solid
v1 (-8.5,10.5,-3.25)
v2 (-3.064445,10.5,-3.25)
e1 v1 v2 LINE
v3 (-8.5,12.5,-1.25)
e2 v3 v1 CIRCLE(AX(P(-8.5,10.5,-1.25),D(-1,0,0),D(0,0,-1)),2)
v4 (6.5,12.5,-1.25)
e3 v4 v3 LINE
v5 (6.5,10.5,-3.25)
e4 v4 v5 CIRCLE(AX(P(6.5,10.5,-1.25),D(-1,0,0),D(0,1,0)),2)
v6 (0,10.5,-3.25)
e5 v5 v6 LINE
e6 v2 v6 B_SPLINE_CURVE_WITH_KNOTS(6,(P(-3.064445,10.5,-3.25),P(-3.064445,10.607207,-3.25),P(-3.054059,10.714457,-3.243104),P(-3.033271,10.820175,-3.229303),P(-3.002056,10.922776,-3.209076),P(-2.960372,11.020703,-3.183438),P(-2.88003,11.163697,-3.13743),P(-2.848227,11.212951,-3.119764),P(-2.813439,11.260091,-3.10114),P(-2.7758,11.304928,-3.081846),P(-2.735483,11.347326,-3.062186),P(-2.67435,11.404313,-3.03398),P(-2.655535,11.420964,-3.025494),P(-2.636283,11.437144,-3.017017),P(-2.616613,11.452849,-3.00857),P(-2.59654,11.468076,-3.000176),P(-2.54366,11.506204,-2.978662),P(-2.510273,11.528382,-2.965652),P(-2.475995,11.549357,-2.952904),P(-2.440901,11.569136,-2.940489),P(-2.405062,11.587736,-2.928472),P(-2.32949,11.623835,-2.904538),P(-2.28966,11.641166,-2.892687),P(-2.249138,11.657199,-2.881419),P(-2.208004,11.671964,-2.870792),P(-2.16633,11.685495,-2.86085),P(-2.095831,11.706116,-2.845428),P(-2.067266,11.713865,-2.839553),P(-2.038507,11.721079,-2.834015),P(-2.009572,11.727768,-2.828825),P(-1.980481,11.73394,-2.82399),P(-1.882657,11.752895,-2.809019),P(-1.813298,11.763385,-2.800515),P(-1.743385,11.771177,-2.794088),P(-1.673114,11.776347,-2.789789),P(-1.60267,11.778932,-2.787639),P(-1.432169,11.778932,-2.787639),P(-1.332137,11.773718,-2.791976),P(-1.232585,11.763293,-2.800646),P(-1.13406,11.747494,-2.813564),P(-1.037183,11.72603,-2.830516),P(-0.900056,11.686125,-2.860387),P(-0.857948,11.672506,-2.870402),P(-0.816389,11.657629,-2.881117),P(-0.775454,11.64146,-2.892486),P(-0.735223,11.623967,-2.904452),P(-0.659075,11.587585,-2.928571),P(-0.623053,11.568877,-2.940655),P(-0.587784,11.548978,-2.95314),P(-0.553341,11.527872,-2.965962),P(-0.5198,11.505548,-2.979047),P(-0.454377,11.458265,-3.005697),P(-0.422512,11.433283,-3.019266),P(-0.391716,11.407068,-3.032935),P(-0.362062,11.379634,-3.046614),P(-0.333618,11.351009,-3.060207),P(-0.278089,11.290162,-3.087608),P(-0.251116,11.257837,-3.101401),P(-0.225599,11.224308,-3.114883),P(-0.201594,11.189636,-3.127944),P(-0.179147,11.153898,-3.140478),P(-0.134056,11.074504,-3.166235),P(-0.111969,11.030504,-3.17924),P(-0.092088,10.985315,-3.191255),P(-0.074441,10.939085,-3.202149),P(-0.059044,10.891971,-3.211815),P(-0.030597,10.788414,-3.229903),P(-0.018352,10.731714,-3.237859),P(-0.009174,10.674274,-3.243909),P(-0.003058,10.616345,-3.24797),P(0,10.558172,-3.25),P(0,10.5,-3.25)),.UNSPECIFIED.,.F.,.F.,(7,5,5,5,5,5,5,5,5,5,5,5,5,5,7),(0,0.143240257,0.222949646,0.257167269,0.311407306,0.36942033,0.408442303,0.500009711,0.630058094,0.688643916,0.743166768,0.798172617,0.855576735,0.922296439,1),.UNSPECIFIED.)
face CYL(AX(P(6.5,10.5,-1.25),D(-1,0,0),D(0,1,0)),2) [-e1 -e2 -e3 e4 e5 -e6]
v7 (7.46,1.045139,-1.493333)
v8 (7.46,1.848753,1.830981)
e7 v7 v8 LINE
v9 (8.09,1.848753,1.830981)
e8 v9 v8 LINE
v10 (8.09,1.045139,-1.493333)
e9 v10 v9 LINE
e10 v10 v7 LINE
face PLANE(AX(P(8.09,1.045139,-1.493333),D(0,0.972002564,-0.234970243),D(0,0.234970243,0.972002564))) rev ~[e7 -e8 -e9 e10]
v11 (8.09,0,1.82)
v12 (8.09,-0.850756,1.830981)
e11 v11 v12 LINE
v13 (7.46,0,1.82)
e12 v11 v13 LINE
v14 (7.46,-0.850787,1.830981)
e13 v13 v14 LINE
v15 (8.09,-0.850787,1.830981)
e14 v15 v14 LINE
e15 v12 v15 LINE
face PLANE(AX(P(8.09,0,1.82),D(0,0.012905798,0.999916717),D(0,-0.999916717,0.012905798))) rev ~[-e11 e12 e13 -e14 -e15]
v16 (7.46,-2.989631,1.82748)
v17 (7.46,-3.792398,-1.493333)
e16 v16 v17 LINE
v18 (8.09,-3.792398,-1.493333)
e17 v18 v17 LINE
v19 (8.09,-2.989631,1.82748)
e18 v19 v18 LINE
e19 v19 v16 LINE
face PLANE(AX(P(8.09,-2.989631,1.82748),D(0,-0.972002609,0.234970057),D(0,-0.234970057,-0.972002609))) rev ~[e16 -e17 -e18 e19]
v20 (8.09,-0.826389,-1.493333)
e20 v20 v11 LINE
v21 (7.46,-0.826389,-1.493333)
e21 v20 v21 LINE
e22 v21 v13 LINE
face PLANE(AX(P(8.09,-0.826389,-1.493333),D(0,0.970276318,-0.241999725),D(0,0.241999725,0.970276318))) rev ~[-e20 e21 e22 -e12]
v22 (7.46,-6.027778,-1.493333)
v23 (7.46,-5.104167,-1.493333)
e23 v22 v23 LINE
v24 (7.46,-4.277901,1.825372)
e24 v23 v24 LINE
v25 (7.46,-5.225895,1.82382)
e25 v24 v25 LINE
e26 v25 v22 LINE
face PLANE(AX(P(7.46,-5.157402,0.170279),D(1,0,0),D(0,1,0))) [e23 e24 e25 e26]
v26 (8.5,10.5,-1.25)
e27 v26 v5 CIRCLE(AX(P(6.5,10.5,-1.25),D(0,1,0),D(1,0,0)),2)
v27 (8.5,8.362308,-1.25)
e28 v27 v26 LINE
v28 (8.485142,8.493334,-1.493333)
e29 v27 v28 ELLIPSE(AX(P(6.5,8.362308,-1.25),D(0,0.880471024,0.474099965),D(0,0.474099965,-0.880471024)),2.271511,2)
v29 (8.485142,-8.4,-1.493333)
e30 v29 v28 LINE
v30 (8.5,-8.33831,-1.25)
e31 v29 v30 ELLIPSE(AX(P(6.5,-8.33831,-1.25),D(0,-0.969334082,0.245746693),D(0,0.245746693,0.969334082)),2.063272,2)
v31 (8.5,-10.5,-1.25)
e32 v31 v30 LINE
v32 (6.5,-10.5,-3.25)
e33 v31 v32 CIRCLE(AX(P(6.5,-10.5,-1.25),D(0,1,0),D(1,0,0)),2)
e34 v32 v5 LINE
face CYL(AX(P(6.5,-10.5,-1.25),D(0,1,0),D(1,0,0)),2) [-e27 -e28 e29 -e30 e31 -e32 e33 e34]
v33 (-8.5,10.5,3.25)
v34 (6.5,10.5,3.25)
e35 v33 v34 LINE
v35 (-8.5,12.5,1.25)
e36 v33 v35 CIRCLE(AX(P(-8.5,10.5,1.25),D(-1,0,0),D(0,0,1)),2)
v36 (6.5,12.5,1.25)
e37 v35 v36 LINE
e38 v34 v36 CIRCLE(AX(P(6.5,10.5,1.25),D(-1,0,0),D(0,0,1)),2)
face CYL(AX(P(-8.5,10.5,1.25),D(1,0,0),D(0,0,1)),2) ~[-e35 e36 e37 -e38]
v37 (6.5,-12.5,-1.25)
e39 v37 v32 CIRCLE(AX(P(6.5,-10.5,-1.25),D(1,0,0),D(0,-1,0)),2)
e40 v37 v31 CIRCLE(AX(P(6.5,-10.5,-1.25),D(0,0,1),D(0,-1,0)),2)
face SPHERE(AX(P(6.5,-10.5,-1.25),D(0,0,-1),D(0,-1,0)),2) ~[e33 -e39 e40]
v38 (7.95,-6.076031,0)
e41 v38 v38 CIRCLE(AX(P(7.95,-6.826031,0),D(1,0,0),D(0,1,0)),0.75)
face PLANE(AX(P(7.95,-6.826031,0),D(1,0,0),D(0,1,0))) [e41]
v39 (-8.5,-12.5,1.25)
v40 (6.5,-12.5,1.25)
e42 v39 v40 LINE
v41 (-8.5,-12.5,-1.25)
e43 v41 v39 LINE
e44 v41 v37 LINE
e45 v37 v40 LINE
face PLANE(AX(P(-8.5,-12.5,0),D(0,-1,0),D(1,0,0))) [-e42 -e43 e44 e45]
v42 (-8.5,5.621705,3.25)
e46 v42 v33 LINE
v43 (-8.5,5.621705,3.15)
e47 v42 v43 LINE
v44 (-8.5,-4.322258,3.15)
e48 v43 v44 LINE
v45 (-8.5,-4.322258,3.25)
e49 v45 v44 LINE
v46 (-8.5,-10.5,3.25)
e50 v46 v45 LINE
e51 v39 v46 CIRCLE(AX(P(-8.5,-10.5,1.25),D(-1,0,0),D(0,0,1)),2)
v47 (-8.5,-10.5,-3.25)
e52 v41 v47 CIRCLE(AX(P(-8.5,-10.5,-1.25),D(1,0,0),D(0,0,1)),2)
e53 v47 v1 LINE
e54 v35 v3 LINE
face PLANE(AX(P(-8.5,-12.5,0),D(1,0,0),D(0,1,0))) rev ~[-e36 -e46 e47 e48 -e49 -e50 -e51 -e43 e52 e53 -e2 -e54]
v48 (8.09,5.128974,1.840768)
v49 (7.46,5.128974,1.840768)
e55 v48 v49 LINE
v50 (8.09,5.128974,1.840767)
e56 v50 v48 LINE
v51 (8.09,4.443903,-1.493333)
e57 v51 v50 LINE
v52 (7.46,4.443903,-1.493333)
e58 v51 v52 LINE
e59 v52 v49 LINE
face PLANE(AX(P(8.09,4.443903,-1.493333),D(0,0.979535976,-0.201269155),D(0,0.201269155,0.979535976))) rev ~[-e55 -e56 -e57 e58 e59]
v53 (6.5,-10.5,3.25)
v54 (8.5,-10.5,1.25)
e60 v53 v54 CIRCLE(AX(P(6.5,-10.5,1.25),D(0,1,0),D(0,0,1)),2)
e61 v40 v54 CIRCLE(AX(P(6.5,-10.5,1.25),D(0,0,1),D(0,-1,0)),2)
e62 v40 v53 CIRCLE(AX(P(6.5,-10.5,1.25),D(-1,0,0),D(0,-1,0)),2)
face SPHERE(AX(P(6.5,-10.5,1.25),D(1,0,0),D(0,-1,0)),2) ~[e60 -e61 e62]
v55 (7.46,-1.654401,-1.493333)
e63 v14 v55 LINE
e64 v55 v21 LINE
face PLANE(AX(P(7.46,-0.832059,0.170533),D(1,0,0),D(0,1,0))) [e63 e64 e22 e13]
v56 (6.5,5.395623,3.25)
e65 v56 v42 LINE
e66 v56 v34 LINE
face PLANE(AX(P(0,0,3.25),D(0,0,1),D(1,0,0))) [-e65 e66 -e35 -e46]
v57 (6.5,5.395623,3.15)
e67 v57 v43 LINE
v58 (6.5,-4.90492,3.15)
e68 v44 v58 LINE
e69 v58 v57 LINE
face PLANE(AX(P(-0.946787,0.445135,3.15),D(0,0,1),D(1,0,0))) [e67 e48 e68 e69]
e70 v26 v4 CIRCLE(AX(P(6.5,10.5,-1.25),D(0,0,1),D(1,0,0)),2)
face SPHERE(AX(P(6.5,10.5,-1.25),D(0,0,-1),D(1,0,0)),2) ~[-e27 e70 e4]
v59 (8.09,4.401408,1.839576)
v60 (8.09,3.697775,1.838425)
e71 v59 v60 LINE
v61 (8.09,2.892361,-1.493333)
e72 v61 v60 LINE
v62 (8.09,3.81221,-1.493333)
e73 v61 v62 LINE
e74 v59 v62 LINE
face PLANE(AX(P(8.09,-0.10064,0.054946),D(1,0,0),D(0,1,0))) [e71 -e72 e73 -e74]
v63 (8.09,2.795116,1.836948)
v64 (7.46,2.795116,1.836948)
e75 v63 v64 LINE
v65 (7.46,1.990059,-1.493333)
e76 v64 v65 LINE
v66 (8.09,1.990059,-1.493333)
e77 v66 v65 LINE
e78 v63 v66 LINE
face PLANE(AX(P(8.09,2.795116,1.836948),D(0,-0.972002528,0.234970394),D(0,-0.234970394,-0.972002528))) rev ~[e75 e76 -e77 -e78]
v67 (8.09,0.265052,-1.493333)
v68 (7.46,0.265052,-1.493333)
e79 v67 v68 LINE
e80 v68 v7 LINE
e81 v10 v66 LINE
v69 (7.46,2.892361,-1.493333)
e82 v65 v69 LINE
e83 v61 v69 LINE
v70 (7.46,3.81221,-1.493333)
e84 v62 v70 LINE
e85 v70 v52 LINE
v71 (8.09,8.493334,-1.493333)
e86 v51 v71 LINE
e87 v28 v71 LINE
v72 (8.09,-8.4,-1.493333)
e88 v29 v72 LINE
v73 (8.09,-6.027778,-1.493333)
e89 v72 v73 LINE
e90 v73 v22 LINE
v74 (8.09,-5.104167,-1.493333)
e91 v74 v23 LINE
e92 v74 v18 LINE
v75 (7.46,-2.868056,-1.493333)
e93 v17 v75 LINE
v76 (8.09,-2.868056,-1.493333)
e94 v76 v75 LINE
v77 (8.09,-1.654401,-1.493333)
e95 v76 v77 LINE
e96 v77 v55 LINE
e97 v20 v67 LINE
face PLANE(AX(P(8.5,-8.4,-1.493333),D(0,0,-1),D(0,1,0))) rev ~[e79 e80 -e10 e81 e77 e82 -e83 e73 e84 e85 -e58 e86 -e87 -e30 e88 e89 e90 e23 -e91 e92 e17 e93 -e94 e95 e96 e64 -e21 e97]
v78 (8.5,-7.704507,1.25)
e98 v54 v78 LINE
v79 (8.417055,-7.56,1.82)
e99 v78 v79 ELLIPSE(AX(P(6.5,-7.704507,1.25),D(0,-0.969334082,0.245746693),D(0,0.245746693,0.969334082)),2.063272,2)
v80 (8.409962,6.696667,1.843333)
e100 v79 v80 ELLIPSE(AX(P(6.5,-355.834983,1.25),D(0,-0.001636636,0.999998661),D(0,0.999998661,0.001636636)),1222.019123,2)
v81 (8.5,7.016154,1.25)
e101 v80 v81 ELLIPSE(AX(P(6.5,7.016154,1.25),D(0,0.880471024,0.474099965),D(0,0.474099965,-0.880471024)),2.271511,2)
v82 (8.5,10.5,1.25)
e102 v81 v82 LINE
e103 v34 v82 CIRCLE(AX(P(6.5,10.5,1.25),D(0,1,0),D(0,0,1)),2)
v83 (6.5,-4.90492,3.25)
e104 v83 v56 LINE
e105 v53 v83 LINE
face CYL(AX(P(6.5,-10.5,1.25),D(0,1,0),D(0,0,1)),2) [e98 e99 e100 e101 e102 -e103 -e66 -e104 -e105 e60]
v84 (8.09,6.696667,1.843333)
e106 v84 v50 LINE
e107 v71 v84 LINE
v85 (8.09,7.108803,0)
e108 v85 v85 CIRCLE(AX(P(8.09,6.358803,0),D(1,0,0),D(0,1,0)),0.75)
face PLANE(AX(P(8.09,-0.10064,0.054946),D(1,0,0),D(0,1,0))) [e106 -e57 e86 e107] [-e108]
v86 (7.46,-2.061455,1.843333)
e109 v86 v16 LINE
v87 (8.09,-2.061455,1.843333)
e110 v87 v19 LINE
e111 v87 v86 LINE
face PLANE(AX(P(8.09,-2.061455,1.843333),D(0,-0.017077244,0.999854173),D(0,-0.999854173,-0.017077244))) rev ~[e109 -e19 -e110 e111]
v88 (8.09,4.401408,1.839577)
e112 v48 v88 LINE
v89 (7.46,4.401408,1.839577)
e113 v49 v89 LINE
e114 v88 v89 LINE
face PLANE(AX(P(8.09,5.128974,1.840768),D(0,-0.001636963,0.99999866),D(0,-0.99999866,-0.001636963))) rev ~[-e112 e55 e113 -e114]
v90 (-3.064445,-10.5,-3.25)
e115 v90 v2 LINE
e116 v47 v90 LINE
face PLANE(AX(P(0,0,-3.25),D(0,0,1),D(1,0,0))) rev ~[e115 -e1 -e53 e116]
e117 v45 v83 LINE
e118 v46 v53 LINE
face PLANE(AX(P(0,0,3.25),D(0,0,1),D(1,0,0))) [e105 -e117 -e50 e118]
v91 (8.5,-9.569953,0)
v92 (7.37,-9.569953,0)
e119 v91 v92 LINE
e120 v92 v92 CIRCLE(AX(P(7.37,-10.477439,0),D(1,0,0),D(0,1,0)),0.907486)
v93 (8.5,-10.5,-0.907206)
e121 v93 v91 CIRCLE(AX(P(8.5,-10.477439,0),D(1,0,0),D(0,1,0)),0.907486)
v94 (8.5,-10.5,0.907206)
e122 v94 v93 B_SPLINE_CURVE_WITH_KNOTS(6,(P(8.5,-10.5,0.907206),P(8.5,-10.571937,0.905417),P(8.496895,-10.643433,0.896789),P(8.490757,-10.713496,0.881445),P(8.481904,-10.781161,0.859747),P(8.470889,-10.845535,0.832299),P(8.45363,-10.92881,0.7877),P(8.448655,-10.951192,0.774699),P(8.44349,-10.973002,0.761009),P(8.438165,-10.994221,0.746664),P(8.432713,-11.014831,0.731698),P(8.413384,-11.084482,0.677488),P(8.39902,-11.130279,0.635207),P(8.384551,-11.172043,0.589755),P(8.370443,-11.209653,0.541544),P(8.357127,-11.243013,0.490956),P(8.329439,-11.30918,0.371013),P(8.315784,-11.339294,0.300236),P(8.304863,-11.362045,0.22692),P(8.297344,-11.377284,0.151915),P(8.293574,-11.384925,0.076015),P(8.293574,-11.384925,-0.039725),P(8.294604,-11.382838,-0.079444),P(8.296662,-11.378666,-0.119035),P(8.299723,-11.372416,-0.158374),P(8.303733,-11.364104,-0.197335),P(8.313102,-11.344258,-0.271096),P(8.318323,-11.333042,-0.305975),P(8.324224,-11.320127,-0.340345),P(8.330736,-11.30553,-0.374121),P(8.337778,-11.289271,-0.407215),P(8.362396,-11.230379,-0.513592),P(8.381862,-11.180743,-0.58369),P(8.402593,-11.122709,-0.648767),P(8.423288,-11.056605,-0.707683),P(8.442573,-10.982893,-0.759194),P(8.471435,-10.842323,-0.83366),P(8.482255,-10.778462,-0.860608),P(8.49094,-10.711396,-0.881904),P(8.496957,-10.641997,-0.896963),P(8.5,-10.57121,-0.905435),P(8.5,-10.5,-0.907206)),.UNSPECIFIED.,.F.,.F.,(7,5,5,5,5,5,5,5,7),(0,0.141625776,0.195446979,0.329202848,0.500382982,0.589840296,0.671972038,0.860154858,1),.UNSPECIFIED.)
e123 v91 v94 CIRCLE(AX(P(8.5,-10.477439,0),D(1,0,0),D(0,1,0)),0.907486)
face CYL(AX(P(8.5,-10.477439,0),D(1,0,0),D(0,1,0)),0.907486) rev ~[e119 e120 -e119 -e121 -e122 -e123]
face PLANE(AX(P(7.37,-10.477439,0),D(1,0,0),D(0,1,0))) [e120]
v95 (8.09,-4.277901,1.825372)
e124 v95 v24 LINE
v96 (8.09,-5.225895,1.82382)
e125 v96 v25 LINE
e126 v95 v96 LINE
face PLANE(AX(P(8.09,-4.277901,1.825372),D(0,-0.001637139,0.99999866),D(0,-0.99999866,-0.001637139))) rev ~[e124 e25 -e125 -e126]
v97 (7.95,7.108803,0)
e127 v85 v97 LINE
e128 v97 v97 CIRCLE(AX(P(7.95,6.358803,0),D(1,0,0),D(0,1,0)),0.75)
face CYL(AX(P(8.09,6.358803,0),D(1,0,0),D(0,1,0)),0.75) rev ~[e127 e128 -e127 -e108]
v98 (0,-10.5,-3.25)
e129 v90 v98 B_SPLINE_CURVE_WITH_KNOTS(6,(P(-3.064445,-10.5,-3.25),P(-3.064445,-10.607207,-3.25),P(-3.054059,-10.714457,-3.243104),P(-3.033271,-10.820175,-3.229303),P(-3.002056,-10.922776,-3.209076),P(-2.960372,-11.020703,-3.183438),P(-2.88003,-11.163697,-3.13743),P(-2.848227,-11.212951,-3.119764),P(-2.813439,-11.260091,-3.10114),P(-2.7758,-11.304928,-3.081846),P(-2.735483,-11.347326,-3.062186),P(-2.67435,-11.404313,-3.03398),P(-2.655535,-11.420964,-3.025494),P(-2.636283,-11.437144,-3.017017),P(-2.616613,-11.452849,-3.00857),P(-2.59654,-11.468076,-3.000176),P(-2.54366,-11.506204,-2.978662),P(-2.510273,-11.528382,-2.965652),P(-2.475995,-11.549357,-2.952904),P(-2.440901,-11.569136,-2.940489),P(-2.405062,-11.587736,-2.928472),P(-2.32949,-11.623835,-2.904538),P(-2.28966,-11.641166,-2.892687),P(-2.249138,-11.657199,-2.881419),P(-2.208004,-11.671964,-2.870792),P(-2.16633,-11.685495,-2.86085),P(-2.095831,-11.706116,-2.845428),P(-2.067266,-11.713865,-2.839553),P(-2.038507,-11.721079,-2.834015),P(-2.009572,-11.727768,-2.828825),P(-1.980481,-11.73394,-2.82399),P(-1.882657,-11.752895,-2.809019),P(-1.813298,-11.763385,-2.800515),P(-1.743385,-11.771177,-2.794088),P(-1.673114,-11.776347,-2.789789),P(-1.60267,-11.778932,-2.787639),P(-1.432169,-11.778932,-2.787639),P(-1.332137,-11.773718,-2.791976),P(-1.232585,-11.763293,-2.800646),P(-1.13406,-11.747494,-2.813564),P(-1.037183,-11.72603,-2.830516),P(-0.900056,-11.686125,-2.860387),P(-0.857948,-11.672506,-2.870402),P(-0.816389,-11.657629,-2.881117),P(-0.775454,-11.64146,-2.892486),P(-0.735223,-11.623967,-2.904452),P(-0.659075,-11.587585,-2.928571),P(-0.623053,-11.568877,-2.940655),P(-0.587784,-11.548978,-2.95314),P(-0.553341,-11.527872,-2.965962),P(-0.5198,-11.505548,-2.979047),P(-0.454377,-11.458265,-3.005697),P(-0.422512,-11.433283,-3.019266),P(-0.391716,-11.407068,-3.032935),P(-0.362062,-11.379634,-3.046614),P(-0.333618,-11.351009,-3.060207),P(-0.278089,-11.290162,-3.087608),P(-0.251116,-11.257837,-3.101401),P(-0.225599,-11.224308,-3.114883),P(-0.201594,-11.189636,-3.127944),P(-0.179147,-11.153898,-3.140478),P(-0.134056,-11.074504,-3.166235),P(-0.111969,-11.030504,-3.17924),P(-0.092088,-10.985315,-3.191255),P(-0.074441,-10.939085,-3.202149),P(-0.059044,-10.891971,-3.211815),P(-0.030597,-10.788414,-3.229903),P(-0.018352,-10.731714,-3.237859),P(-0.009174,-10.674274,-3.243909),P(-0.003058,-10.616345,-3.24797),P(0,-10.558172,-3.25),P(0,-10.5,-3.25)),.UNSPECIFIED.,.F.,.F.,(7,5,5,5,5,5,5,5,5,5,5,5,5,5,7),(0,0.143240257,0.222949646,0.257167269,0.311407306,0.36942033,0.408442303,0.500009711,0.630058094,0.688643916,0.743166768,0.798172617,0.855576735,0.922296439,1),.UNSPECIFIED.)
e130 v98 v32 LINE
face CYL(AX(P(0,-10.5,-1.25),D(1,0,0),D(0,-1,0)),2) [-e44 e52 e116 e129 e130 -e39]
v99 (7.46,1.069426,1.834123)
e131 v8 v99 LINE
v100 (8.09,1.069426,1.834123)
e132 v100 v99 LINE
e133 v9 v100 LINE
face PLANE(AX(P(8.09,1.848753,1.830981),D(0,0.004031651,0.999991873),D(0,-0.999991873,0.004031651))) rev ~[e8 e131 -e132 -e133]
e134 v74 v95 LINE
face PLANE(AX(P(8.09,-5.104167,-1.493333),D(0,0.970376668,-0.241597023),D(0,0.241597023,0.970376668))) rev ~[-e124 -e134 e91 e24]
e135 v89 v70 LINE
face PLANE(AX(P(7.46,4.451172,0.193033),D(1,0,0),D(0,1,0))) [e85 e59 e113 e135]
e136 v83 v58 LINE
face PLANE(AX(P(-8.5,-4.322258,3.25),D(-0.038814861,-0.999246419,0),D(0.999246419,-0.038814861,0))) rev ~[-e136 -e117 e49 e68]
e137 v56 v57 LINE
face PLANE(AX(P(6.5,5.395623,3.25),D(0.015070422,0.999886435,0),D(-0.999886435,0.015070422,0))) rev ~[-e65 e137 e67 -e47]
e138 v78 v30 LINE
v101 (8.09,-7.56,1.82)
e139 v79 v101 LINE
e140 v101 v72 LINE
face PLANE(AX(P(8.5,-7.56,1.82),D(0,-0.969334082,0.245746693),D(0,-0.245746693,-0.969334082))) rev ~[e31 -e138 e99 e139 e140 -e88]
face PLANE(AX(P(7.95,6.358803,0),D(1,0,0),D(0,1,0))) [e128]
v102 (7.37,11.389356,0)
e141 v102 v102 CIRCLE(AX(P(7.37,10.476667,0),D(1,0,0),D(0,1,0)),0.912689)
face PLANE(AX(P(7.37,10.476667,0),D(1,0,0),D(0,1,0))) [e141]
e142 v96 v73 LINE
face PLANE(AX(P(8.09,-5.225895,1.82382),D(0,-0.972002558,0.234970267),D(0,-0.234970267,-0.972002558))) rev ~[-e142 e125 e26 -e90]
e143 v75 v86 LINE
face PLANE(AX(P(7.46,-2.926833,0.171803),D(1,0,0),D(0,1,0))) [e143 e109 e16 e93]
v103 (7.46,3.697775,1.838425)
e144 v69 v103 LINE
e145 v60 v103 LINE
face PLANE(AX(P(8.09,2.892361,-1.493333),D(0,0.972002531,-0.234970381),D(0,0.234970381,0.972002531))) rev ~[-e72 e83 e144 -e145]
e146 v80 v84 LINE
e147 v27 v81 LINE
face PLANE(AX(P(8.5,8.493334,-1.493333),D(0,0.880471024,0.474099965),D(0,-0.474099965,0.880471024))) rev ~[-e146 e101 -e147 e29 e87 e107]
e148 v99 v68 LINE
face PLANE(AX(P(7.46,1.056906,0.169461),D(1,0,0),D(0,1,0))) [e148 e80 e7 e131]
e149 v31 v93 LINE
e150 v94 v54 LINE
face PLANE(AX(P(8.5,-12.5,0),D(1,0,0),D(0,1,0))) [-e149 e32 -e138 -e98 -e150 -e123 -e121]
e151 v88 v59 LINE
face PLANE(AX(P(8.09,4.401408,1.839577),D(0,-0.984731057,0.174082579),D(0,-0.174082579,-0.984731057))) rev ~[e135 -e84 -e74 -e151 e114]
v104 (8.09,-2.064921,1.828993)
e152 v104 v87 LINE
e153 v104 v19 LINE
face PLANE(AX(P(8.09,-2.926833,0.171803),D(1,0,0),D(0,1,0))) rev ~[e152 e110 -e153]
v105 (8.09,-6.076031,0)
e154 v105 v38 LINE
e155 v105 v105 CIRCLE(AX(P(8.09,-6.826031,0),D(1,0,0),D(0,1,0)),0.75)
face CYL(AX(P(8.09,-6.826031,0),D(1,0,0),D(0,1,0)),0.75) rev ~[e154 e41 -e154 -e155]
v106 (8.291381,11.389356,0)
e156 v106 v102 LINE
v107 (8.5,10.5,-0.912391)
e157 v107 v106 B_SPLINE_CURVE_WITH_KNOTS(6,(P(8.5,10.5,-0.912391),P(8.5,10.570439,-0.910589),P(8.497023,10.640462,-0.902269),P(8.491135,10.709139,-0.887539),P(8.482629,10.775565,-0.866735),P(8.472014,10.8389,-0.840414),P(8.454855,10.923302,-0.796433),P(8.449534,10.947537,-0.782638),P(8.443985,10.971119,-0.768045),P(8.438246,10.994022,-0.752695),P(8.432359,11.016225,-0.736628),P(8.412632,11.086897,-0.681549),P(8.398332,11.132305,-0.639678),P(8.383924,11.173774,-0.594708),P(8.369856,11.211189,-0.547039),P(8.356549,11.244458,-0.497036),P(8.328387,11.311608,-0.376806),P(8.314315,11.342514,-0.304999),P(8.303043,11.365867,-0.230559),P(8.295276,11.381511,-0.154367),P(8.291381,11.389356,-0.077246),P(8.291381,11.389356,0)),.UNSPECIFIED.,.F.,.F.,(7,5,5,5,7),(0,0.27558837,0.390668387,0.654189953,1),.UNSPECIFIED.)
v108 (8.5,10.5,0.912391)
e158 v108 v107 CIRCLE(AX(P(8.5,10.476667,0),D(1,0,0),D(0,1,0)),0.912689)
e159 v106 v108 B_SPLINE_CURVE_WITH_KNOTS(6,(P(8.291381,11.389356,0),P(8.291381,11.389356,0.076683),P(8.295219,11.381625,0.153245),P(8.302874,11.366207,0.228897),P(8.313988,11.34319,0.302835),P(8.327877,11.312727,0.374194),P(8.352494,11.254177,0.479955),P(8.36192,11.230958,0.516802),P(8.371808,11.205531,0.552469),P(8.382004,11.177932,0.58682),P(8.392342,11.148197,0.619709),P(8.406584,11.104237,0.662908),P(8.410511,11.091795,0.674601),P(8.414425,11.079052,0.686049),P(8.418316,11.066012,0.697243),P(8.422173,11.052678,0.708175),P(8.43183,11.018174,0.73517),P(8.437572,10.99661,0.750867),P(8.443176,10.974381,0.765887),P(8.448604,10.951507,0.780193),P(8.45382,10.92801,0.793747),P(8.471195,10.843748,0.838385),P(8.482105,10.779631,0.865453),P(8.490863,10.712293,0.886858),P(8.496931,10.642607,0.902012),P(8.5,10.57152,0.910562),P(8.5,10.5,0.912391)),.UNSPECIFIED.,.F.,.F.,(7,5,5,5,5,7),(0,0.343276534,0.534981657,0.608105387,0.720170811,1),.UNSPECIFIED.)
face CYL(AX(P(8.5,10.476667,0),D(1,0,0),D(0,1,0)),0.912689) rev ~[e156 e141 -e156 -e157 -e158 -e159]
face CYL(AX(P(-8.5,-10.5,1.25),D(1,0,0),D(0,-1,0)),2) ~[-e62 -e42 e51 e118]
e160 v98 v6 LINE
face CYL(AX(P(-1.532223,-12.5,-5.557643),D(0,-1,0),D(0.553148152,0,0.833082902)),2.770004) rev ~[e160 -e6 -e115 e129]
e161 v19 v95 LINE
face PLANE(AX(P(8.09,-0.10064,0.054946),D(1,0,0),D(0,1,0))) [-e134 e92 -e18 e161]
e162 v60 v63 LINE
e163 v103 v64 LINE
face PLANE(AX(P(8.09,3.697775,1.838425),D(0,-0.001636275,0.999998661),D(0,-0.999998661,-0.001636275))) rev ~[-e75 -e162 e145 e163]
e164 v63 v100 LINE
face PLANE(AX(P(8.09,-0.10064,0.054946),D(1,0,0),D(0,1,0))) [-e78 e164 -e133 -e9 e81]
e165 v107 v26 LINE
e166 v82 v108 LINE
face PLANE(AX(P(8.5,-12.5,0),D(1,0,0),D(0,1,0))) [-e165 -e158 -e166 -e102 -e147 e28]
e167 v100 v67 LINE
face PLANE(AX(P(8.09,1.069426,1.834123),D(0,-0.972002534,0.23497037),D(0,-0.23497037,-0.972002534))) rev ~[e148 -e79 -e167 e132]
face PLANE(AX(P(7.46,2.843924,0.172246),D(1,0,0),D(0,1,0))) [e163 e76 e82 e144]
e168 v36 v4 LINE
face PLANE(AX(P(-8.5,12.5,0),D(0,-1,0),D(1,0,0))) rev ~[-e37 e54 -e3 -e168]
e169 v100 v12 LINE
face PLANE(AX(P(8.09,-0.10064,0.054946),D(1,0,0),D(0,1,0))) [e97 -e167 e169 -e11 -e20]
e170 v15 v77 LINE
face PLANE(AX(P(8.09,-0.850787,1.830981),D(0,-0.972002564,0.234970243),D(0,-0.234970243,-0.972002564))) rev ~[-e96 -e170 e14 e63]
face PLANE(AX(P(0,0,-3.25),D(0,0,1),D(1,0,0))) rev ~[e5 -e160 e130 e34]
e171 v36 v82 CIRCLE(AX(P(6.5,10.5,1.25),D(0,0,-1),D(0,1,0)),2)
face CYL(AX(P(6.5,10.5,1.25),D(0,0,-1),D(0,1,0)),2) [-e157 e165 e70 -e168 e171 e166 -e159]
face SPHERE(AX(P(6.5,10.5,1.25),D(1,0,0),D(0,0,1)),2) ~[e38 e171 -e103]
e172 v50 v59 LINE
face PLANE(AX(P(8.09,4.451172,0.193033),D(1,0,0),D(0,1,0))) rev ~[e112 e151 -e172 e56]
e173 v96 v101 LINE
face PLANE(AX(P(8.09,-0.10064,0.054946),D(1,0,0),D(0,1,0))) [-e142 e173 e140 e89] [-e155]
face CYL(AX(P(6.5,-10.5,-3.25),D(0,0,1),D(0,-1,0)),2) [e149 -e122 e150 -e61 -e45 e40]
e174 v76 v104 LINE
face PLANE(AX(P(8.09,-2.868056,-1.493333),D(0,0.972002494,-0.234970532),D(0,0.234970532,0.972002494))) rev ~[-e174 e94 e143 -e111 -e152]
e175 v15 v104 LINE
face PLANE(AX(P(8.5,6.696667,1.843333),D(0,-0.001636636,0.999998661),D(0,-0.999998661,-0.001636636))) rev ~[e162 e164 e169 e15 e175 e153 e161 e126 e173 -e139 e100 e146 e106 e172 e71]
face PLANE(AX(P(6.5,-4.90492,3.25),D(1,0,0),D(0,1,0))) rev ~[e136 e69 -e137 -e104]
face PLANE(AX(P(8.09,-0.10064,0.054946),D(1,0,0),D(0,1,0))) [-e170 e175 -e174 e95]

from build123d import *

# Parameters (mm, degrees)
F0_W      = 17
F0_H      = 25
F1_DEPTH  = 3.25
F3_DEPTH  = 29
F4_R      = 2
F5_R      = 2
F6_R      = 2
F7_R      = 2
F8_R      = 0.907486
F8_R_2    = 0.912689
F9_DEPTH  = 1.13
F11_DEPTH = 0.41
F12_R     = 0.75
F13_DEPTH = 0.14
F15_DEPTH = 0.63
F17_DEPTH = 0.1


with BuildPart() as f1:
    # F0 (on Top) → F1 (new body, symmetric)
    with BuildSketch(Plane.XY):
        Rectangle(F0_W, F0_H)
    extrude(amount=F1_DEPTH, both=True)

    # F2 (on face) → F3 (cut)
    with BuildSketch(Plane.XZ.offset(12.5)):
        with BuildLine():
            Line((-3.064445, -3.25), (0, -3.25))
            ThreePointArc((0, -3.25), (-1.532222, -2.787639), (-3.064445, -3.25))
        make_face()
    extrude(amount=-F3_DEPTH, mode=Mode.SUBTRACT)

    # F4
    f4_edges = [f1.edges().sort_by_distance(p)[0] for p in [
        (0, -12.5, 3.25),
    ]]
    fillet(f4_edges, radius=F4_R)

    # F5
    f5_edges = [f1.edges().sort_by_distance(p)[0] for p in [
        (0, 12.5, 3.25),
    ]]
    fillet(f5_edges, radius=F5_R)

    # F6
    f6_edges = [f1.edges().sort_by_distance(p)[0] for p in [
        (8.5, 0, 3.25),
    ]]
    fillet(f6_edges, radius=F6_R)

    # F7
    f7_edges = [f1.edges().sort_by_distance(p)[0] for p in [
        (8.5, 0, -3.25),
    ]]
    fillet(f7_edges, radius=F7_R)

    # F8 (on face) → F9 (cut)
    with BuildSketch(Plane.YZ.offset(8.5)):
        with Locations((-10.477439, 0)):
            Circle(F8_R)
        with Locations((10.476667, 0)):
            Circle(F8_R_2)
    extrude(amount=-F9_DEPTH, mode=Mode.SUBTRACT)

    # F10 (on face) → F11 (cut)
    with BuildSketch(Plane.YZ.offset(8.5)):
        Polygon((6.696667, 1.843333), (-7.56, 1.82), (-8.4, -1.493333), (8.493334, -1.493333), align=None)
    extrude(amount=-F11_DEPTH, mode=Mode.SUBTRACT)

    # F12 (on face) → F13 (cut)
    with BuildSketch(Plane.YZ.offset(8.09)):
        with Locations((-6.826031, 0)):
            Circle(F12_R)
        with Locations((6.358803, 0)):
            Circle(F12_R)
    extrude(amount=-F13_DEPTH, mode=Mode.SUBTRACT)

    # F14 (on face) → F15 (cut)
    with BuildSketch(Plane.YZ.offset(8.09)):
        Polygon((-4.277901, 1.825372), (-5.225895, 1.82382), (-6.027778, -1.493333), (-5.104167, -1.493333), align=None)
        Polygon((-2.061455, 1.843333), (-2.989631, 1.82748), (-3.792398, -1.493333), (-2.868056, -1.493333), align=None)
        Polygon((0, 1.82), (-0.850787, 1.830981), (-1.654401, -1.493333), (-0.826389, -1.493333), align=None)
        Polygon((1.848753, 1.830981), (1.069426, 1.834123), (0.265052, -1.493333), (1.045139, -1.493333), align=None)
        Polygon((3.697775, 1.838425), (2.795116, 1.836948), (1.990059, -1.493333), (2.892361, -1.493333), align=None)
        Polygon((3.81221, -1.493333), (4.443903, -1.493333), (5.128974, 1.840768), (4.401408, 1.839577), align=None)
    extrude(amount=-F15_DEPTH, mode=Mode.SUBTRACT)

    # F16 (on face) → F17 (cut)
    with BuildSketch(Plane.XY.offset(3.25)):
        Polygon((-8.5, -4.322258), (6.5, -4.90492), (6.5, 5.395623), (-8.5, 5.621705), align=None)
    extrude(amount=-F17_DEPTH, mode=Mode.SUBTRACT)


solid = f1.part
